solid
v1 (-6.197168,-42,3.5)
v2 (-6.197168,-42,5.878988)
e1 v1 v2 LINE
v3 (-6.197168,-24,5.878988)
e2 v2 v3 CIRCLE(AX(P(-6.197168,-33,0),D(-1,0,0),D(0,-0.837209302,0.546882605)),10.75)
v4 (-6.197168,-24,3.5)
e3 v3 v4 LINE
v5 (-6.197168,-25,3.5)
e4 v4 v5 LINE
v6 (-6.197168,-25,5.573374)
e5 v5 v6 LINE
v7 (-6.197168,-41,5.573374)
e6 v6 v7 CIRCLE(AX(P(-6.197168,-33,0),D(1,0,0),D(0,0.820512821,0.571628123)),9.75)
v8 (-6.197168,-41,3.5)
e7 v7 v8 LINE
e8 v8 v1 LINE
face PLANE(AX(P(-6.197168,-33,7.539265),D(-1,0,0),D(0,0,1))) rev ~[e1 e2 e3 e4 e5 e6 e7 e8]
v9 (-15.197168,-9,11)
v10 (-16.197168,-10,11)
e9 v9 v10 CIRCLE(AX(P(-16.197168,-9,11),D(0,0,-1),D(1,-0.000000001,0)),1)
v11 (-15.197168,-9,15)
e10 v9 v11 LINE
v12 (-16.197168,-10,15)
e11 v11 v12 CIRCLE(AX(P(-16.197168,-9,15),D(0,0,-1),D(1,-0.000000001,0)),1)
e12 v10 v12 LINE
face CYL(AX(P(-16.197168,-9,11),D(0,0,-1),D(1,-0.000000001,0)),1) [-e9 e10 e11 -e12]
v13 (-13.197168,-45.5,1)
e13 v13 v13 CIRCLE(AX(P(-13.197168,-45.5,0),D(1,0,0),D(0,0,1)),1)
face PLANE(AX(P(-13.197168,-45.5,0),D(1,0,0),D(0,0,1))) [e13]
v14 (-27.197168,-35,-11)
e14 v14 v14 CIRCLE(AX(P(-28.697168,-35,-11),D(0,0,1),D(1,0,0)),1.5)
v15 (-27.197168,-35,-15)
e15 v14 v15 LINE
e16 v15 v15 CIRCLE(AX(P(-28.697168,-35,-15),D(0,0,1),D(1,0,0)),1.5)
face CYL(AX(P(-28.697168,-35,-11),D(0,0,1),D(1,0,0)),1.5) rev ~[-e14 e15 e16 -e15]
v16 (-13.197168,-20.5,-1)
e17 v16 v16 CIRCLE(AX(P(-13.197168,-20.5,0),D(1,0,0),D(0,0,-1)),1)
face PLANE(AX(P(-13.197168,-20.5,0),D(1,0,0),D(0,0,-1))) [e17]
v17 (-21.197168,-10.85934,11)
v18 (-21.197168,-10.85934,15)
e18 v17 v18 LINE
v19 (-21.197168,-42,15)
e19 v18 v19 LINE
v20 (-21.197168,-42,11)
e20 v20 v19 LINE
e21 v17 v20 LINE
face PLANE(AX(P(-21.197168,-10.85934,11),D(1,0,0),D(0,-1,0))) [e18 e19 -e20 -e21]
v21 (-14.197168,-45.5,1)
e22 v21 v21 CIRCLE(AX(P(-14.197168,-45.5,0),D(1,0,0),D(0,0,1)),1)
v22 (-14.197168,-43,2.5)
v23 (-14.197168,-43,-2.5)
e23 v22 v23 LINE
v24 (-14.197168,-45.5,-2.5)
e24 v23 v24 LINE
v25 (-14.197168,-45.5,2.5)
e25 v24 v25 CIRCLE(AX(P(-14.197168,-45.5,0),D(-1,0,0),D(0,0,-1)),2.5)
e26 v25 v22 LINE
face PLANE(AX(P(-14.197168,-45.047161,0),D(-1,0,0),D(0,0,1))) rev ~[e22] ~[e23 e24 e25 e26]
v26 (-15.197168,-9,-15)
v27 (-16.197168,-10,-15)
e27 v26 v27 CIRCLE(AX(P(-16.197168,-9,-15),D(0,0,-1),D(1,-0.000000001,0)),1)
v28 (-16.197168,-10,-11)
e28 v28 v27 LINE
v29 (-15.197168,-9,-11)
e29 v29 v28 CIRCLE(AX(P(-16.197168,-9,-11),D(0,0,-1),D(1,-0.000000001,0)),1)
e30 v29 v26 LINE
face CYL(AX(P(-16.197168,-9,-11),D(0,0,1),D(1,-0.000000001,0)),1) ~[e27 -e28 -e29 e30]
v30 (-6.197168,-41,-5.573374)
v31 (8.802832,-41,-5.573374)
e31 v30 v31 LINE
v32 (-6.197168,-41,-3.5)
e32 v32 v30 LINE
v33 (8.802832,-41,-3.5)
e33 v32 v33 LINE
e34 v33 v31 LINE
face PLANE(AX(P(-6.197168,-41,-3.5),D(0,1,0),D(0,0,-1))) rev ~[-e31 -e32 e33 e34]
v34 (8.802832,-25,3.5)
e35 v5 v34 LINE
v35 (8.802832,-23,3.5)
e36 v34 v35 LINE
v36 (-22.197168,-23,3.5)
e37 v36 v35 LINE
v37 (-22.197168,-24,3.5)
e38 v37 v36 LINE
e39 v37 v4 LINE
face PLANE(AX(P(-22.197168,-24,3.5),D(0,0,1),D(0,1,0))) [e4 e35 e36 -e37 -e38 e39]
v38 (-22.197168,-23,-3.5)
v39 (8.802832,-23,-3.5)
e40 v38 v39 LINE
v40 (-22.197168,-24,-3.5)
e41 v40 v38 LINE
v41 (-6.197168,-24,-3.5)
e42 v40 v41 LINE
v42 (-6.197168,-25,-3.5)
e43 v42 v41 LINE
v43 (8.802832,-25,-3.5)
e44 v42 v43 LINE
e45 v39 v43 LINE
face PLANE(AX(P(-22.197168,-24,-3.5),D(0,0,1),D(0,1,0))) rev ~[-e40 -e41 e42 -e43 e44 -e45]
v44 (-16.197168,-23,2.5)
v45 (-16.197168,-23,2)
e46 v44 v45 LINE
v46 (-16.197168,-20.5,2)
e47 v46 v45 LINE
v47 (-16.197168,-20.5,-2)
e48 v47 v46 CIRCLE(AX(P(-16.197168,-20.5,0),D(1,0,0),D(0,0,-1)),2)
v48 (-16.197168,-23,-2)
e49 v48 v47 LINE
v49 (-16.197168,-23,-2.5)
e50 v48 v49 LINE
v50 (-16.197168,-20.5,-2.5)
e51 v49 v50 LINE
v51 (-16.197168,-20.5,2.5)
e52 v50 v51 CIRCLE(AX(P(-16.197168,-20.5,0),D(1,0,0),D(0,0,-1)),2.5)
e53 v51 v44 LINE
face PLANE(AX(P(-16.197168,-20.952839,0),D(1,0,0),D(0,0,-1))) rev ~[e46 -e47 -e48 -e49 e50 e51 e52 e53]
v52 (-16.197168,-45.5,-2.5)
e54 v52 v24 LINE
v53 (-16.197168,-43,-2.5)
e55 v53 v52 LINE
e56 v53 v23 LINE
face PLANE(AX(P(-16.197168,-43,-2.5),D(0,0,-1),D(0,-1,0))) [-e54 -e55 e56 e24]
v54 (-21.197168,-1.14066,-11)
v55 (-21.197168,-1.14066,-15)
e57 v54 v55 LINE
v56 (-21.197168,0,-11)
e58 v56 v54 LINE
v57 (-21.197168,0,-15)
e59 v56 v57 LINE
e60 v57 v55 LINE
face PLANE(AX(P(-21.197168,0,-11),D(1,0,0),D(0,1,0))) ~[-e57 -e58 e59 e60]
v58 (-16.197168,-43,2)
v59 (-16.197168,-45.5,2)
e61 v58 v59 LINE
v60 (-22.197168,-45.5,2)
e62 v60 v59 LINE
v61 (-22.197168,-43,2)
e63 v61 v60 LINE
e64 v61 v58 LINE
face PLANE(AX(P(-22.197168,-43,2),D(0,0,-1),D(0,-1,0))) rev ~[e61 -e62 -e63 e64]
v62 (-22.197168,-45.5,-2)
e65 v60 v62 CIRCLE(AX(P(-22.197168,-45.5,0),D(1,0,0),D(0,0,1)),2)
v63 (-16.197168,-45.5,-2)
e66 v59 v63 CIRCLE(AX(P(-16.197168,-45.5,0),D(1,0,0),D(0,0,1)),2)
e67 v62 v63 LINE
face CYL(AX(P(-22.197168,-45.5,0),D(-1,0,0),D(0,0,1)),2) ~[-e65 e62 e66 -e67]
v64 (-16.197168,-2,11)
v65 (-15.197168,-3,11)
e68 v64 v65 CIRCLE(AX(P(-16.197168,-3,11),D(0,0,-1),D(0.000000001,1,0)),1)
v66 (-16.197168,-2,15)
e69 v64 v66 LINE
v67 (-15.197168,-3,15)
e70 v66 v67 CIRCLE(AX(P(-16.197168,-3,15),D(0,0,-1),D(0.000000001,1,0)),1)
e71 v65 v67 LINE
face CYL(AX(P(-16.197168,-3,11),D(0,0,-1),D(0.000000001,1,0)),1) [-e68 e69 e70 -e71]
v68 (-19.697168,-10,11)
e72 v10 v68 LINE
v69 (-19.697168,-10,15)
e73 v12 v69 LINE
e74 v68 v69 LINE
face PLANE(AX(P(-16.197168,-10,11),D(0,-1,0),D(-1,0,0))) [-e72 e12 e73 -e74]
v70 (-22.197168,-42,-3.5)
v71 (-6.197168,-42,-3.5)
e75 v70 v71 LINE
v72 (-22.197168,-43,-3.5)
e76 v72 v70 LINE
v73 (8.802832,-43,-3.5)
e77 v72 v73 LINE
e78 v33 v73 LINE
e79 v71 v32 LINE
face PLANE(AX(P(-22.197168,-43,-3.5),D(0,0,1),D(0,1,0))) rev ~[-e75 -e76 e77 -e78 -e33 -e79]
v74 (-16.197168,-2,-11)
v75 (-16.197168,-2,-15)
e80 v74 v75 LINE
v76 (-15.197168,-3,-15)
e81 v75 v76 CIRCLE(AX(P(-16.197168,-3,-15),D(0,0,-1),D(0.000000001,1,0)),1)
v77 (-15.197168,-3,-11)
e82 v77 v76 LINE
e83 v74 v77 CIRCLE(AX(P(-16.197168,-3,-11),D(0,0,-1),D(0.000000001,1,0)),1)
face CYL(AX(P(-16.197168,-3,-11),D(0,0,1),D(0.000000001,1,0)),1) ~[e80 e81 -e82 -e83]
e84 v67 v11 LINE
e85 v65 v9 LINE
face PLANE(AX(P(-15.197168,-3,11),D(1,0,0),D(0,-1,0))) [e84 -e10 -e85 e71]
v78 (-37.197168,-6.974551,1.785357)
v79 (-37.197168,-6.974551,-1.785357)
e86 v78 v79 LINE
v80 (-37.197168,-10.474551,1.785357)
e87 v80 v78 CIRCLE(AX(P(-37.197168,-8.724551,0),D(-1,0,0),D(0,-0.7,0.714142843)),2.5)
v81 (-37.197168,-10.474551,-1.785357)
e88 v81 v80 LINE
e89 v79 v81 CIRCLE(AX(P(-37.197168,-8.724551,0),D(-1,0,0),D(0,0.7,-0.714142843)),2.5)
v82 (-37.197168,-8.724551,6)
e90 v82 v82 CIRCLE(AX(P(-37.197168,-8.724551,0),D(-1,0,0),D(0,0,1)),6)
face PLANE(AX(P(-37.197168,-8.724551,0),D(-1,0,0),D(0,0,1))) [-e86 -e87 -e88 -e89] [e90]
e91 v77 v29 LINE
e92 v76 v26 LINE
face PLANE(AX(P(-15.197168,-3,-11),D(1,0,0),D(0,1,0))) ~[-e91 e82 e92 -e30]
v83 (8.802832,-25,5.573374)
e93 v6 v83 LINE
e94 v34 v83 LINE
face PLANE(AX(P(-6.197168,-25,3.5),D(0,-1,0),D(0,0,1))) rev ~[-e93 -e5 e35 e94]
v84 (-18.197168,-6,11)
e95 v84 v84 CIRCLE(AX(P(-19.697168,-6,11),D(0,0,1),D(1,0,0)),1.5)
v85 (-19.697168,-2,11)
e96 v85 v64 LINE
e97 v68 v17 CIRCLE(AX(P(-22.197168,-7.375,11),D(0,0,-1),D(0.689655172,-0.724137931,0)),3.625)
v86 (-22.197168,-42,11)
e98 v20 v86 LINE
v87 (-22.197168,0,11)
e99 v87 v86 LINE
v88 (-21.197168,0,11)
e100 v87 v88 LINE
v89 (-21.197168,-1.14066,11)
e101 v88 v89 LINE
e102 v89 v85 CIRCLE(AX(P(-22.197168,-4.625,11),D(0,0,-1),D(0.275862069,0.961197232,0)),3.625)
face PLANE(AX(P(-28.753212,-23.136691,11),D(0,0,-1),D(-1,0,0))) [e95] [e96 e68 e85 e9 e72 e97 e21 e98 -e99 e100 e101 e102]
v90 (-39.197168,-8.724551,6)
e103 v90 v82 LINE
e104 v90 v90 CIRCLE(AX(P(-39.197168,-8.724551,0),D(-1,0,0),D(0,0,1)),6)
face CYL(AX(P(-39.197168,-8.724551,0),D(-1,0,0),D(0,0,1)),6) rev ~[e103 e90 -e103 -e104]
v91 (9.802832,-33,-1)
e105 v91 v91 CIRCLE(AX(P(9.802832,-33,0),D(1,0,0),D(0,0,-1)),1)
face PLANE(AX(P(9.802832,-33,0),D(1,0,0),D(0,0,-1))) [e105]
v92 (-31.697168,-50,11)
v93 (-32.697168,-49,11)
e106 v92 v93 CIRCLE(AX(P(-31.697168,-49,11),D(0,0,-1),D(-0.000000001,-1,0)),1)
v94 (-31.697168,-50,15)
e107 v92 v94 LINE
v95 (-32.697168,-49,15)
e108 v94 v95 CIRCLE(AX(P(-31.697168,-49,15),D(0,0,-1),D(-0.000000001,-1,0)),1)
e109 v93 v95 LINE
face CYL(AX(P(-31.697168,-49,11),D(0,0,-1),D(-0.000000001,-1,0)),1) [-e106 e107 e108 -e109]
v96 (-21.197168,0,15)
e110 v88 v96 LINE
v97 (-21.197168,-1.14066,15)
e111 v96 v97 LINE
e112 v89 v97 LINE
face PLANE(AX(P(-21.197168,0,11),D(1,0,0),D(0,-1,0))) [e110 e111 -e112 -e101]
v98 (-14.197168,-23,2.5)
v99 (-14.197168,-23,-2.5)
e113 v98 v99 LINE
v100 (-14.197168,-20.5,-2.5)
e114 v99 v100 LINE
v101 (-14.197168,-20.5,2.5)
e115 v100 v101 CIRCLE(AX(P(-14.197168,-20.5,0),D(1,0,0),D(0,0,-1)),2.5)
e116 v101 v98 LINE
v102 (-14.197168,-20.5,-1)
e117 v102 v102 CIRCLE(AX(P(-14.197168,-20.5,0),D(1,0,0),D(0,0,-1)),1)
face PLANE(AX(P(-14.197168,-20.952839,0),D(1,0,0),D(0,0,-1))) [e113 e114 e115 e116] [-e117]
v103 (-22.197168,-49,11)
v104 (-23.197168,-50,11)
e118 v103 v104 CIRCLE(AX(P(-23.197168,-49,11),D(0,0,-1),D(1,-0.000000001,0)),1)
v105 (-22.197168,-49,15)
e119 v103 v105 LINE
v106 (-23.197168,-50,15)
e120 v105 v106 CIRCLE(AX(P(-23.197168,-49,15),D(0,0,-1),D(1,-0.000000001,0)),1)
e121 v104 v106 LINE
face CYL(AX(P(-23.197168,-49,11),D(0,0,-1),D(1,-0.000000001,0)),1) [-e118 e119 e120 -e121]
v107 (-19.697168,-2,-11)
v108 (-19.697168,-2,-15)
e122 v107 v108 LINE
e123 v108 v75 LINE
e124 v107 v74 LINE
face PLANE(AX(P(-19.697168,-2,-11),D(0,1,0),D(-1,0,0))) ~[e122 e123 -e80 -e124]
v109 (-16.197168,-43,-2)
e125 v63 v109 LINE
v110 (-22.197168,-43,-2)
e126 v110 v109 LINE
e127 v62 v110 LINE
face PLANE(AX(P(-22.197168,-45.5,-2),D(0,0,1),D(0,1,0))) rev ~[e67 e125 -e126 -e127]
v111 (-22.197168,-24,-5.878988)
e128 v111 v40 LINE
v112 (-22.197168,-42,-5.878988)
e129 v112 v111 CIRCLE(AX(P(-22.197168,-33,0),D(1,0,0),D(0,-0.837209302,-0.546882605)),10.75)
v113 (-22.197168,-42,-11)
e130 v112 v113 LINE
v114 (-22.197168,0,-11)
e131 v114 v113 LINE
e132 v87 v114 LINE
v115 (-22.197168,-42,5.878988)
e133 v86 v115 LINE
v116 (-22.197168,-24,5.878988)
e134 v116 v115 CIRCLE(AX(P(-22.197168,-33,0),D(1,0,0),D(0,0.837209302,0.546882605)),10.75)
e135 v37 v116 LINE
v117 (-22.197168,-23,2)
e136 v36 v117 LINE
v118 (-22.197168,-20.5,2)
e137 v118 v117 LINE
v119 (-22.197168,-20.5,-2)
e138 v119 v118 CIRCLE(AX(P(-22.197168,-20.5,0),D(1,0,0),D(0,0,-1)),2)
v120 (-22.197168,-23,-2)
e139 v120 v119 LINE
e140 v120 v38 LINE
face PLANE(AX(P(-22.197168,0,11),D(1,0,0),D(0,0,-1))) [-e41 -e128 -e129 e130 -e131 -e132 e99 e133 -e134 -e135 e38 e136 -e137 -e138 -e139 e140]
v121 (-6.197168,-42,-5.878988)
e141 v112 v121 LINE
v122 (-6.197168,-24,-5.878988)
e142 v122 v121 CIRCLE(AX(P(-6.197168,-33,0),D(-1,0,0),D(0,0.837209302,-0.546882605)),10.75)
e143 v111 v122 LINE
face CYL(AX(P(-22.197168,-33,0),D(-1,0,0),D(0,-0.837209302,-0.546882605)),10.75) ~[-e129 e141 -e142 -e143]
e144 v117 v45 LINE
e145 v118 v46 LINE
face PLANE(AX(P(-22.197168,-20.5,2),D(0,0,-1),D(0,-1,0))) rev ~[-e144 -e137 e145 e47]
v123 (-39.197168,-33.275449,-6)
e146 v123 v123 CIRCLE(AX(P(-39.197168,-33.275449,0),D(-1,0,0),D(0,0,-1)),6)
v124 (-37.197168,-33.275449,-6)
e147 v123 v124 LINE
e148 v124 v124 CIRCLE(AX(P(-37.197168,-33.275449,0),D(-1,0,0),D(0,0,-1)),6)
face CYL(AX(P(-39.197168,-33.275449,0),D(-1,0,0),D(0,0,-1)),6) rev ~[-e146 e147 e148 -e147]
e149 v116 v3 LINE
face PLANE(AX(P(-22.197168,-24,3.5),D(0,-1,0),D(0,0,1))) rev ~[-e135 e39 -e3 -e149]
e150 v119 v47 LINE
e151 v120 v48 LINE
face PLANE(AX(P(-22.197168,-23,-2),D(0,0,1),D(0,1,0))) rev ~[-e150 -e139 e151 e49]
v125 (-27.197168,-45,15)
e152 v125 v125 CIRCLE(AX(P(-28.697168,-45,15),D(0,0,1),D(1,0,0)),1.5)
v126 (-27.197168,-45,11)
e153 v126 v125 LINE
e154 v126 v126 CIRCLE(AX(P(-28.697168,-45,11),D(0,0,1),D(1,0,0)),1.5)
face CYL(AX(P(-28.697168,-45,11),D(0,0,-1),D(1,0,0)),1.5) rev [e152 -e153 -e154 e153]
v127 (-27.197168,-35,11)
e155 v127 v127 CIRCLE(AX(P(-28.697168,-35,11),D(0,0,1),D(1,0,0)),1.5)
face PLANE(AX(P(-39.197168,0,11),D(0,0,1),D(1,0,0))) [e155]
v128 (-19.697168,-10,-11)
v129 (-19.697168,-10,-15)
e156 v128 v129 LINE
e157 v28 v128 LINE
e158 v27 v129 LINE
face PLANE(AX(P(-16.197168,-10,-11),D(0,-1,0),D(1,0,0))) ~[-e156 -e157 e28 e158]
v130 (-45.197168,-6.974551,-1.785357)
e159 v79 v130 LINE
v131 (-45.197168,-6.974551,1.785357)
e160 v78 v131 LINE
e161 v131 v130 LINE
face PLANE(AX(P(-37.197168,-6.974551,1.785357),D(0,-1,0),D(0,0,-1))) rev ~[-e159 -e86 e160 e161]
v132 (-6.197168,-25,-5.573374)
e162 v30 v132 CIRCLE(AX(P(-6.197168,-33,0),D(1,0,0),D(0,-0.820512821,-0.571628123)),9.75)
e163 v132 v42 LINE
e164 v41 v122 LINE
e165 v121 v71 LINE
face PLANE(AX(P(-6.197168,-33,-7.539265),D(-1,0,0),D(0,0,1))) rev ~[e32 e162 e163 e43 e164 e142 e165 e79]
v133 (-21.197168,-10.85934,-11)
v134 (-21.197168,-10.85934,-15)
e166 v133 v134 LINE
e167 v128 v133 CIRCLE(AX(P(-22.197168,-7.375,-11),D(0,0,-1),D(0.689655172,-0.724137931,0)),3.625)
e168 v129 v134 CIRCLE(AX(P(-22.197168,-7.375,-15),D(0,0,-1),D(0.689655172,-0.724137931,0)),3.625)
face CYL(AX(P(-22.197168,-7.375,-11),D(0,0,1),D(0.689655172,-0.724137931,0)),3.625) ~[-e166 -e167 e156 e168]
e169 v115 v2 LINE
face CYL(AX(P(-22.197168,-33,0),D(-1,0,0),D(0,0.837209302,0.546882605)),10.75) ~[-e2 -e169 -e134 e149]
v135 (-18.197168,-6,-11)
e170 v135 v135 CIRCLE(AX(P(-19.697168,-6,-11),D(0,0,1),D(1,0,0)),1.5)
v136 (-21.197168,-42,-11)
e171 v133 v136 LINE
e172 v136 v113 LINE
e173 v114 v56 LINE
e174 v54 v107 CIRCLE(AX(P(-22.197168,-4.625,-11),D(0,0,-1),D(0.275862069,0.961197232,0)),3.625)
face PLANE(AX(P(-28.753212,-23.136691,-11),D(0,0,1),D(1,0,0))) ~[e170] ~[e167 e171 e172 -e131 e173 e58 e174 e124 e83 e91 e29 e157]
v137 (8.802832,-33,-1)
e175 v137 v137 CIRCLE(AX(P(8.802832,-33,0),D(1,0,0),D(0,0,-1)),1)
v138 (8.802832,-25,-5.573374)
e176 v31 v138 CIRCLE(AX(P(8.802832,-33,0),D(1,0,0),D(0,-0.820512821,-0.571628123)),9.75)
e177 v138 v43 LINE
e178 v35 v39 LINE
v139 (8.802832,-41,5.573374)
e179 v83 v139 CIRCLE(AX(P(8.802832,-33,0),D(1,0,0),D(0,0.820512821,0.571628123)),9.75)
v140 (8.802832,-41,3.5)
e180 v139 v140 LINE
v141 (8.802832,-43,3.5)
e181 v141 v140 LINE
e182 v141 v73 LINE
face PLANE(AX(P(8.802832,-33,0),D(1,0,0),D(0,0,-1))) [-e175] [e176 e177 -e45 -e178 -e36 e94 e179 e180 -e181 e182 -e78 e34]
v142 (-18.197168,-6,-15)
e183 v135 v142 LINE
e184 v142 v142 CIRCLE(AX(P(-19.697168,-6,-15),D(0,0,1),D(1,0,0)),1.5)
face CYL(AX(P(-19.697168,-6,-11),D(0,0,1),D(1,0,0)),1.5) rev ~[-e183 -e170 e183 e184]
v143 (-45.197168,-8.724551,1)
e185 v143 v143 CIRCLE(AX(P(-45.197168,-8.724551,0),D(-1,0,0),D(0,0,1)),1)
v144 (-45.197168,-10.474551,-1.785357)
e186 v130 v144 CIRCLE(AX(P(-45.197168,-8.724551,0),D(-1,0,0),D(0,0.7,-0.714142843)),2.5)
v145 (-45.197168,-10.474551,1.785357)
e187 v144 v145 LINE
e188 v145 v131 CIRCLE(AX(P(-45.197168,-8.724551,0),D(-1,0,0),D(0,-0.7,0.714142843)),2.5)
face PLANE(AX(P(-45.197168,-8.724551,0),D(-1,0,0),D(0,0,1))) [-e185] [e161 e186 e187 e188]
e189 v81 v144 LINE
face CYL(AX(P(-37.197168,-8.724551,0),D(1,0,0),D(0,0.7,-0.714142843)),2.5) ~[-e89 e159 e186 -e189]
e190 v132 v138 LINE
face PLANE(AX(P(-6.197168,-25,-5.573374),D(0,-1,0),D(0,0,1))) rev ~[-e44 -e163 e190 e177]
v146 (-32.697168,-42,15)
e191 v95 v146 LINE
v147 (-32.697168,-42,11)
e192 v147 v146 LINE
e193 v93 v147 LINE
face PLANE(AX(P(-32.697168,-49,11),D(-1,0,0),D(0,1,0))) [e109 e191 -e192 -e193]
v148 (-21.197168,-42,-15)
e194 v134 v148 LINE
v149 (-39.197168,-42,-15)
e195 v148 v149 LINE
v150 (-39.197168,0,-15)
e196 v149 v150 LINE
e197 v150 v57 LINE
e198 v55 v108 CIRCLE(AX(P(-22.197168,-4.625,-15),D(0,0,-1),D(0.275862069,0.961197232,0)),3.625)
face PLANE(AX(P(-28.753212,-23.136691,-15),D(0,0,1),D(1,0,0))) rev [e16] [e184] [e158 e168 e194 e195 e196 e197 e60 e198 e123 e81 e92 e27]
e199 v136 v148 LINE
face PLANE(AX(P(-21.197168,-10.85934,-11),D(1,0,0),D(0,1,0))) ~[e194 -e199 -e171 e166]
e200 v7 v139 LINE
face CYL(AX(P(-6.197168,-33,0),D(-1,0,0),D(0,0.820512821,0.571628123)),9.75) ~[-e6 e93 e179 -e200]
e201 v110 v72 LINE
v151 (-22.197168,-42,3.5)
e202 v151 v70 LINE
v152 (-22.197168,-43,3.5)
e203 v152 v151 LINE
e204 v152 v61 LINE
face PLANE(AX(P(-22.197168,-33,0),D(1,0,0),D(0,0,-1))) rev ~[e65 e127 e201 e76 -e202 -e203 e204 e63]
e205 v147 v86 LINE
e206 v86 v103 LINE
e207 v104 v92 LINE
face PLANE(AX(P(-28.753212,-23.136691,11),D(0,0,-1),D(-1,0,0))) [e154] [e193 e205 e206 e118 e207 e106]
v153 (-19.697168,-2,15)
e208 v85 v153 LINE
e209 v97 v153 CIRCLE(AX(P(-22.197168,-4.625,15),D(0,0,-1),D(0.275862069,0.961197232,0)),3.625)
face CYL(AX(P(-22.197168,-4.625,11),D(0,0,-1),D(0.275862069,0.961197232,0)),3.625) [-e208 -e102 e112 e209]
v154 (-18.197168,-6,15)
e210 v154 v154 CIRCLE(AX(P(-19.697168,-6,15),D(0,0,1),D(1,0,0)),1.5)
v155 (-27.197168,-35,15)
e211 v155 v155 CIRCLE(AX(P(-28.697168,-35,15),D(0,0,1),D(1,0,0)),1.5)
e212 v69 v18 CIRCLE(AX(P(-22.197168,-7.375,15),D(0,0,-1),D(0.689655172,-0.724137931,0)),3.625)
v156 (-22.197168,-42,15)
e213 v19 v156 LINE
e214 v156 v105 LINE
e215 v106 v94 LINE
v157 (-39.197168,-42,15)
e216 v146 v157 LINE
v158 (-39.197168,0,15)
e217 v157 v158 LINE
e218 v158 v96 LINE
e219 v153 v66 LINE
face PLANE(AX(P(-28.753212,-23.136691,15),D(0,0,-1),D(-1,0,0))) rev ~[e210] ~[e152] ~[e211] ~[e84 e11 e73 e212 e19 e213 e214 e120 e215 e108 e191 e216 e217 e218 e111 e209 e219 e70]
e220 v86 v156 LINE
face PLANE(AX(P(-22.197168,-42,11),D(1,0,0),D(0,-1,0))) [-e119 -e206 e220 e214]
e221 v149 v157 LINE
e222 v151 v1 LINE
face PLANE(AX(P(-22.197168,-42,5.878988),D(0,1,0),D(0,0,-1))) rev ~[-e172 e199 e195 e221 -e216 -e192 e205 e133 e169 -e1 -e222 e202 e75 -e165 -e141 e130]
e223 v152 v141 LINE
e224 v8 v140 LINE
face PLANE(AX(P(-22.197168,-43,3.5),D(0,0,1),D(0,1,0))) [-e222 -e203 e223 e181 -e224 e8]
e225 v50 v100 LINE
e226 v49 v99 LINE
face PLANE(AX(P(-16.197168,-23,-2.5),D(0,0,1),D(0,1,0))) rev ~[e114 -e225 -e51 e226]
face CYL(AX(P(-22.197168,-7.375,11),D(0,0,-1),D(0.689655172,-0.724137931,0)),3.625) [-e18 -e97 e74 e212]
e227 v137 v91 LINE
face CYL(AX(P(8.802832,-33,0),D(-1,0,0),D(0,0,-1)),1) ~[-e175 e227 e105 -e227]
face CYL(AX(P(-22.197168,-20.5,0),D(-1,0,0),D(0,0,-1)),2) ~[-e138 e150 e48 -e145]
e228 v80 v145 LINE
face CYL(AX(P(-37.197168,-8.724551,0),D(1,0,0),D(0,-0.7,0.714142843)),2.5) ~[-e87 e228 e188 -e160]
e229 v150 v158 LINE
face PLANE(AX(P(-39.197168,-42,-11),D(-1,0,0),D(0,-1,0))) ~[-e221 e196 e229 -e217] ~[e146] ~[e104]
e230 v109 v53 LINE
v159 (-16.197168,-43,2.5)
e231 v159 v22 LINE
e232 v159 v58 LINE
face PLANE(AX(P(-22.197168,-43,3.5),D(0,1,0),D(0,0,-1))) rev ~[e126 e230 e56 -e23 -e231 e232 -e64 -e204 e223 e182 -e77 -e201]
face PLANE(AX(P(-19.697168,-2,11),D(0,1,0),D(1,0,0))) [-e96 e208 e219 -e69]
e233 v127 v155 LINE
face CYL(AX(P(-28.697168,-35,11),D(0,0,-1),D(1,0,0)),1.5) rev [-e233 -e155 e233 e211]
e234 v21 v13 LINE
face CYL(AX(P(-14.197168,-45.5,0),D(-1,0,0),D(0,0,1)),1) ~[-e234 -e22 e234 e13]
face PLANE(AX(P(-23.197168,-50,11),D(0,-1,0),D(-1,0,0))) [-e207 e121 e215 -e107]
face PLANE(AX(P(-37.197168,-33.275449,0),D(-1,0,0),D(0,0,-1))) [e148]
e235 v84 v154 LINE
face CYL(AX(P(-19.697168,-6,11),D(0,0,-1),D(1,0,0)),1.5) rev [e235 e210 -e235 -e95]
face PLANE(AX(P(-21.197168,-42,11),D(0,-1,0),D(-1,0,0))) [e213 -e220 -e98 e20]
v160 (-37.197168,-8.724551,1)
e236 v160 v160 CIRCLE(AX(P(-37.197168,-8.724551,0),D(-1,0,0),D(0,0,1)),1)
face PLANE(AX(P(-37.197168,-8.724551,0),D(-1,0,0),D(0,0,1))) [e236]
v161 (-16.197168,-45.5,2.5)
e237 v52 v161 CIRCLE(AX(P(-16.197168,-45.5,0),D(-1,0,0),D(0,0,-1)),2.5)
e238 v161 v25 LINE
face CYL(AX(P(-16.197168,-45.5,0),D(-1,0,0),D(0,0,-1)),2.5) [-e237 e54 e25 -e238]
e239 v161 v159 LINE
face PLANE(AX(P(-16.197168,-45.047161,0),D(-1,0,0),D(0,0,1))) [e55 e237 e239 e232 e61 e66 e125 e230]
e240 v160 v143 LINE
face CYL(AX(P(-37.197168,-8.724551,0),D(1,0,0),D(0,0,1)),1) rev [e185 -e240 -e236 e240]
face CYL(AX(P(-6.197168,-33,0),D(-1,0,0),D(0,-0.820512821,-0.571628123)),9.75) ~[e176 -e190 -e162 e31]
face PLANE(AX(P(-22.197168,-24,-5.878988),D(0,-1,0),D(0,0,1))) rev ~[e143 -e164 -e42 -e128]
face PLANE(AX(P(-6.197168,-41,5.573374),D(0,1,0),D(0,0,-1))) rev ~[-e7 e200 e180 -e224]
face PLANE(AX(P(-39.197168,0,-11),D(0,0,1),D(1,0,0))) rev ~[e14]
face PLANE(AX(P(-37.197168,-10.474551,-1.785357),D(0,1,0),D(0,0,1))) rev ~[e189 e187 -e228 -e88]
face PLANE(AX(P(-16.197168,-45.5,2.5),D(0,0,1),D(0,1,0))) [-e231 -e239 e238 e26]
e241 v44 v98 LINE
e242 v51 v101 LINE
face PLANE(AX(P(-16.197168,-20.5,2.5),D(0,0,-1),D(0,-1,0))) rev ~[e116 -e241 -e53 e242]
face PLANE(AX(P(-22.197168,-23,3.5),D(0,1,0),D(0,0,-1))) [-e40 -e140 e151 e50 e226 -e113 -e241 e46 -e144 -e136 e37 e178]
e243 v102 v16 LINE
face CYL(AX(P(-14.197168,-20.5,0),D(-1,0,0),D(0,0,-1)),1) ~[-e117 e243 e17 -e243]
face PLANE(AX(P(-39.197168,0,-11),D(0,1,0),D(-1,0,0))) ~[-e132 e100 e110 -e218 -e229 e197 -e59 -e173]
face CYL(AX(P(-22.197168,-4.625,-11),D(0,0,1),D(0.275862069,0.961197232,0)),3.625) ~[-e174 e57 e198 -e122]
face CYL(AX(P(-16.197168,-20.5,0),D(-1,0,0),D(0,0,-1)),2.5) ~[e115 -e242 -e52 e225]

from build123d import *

# Parameters (mm, degrees)
ESQUISSE2_W             = 17
ESQUISSE2_H             = 22
BASE_DEPTH              = 42
ESQUISSE3_R             = 6
VIDE_CERCLE_DEPTH       = 2
ESQUISSE4_R             = 1
AXE_ROUE_DEPTH          = 8
ESQUISSE6_R             = 1.5
COTE_DEPTH              = 4
ESQUISSE7_W             = 10.5
ESQUISSE7_H             = 8
AJUSTE_COTE_DEPTH       = 4
ESQUISSE8_W             = 7
ESQUISSE8_H             = 1
BLOC_MOTEUR_DEPTH       = 31
VODE_START              = -15
VODE_MOTEUR_DEPTH       = 15
ESQUISSE11_R            = 1
SORTIE_AXE_MOTEUR_DEPTH = 1
VIS_MOTEUR_1_DEPTH      = 6
VIS_MOTEUR_2_DEPTH      = 2
ESQUISSE15_R            = 1
VIS_MOTEUR_3_DEPTH      = 1


with BuildPart() as part:
    # Esquisse2 → Base (new body)
    with BuildSketch(Plane(origin=(0, 0, 0), x_dir=(1, 0, 0), z_dir=(0, 1, 0))):
        with Locations((-30.697167752, 0)):
            Rectangle(ESQUISSE2_W, ESQUISSE2_H)
    extrude(amount=-BASE_DEPTH)

    # Esquisse3 → VIDE CERCLE (cut)
    with BuildSketch(Plane.ZY.offset(39.197167752)):
        with Locations((0, -8.724551396)):
            Circle(ESQUISSE3_R)
        with Locations(Location((0, -33.275448604, 0), (0, 0, 180))):
            Circle(ESQUISSE3_R)
    extrude(amount=-VIDE_CERCLE_DEPTH, mode=Mode.SUBTRACT)

    # Esquisse4 → AXE ROUE (add)
    with BuildSketch(Plane.ZY.offset(37.197167752)):
        with BuildLine():
            Line((1.785357107, -6.974551396), (-1.785357107, -6.974551396))
            ThreePointArc((-1.785357107, -6.974551396), (-2.5, -8.724551396), (-1.785357107, -10.474551396))
            Line((-1.785357107, -10.474551396), (1.785357107, -10.474551396))
            ThreePointArc((1.785357107, -10.474551396), (2.5, -8.724551396), (1.785357107, -6.974551396))
        make_face()
        with Locations((0, -8.724551396)):
            Circle(ESQUISSE4_R, mode=Mode.SUBTRACT)
    extrude(amount=AXE_ROUE_DEPTH)

    # Esquisse6 → COTE (add)
    with BuildSketch(Plane.XY.offset(11)):
        with BuildLine():
            Line((-19.697167752, -2), (-16.197167752, -2))
            ThreePointArc((-16.197167752, -2), (-15.490060971, -2.292893219), (-15.197167752, -3))
            Line((-15.197167752, -3), (-15.197167752, -9))
            ThreePointArc((-15.197167752, -9), (-15.490060971, -9.707106781), (-16.197167752, -10))
            Line((-16.197167752, -10), (-19.697167752, -10))
            ThreePointArc((-19.697167752, -10), (-20.395192088, -10.520394841), (-21.197167752, -10.859339966))
            Line((-21.197167752, -10.859339966), (-21.197167752, -42))
            Line((-21.197167752, -42), (-22.197167752, -42))
            Line((-22.197167752, -42), (-22.197167752, -49))
            ThreePointArc((-22.197167752, -49), (-22.490060971, -49.707106781), (-23.197167752, -50))
            Line((-23.197167752, -50), (-31.697167752, -50))
            ThreePointArc((-31.697167752, -50), (-32.404274533, -49.707106781), (-32.697167752, -49))
            Line((-32.697167752, -49), (-32.697167752, -42))
            Line((-32.697167752, -42), (-39.197167752, -42))
            Line((-39.197167752, -42), (-39.197167752, 0))
            Line((-39.197167752, 0), (-22.197167752, 0))
            Line((-22.197167752, 0), (-21.197167752, 0))
            Line((-21.197167752, 0), (-21.197167752, -1.140660034))
            ThreePointArc((-21.197167752, -1.140660034), (-20.395192088, -1.479605159), (-19.697167752, -2))
        make_face()
        with Locations((-19.697167752, -6)):
            Circle(ESQUISSE6_R, mode=Mode.SUBTRACT)
        with Locations((-28.697167752, -35)):
            Circle(ESQUISSE6_R, mode=Mode.SUBTRACT)
        with Locations((-28.697167752, -45)):
            Circle(ESQUISSE6_R, mode=Mode.SUBTRACT)
    cote = extrude(amount=COTE_DEPTH)

    # SYM COTE: COTE across plane
    add(cote.mirror(Plane.XY))

    # Esquisse7 → AJUSTE COTE (cut)
    with BuildSketch(Plane.XY.offset(-11)):
        with Locations((-27.447167752, -46)):
            Rectangle(ESQUISSE7_W, ESQUISSE7_H)
    extrude(amount=-AJUSTE_COTE_DEPTH, mode=Mode.SUBTRACT)

    # Esquisse8 → BLOC MOTEUR (add)
    with BuildSketch(Plane(origin=(-22.197167752, 0, 0), x_dir=(0, 0, -1), z_dir=(1, 0, 0))):
        with BuildLine():
            ThreePointArc((-5.878988008, -24), (-10.75, -33), (-5.878988008, -42))
            Line((-5.878988008, -42), (-3.5, -42))
            Line((-3.5, -42), (3.5, -42))
            Line((3.5, -42), (5.878988008, -42))
            ThreePointArc((5.878988008, -42), (10.75, -33), (5.878988008, -24))
            Line((5.878988008, -24), (3.5, -24))
            Line((3.5, -24), (-3.5, -24))
            Line((-3.5, -24), (-5.878988008, -24))
        make_face()
        with Locations((0, -42.5)):
            Rectangle(ESQUISSE8_W, ESQUISSE8_H)
        with Locations((0, -23.5)):
            Rectangle(ESQUISSE8_W, ESQUISSE8_H)
    extrude(amount=BLOC_MOTEUR_DEPTH)

    # Esquisse10 → VODE MOTEUR (cut)
    with BuildSketch(Plane(origin=(8.802832248, 0, 0), x_dir=(0, 0, -1), z_dir=(1, 0, 0)).offset(VODE_START)):
        with BuildLine():
            Line((-5.878988008, -24), (-3.5, -24))
            Line((-3.5, -24), (-3.5, -25))
            Line((-3.5, -25), (-5.573374202, -25))
            ThreePointArc((-5.573374202, -25), (-9.75, -33), (-5.573374202, -41))
            Line((-5.573374202, -41), (-3.5, -41))
            Line((-3.5, -41), (-3.5, -42))
            Line((-3.5, -42), (-5.878988008, -42))
            ThreePointArc((-5.878988008, -42), (-10.75, -33), (-5.878988008, -24))
        make_face()
        with BuildLine():
            Line((3.5, -24), (5.878988008, -24))
            ThreePointArc((5.878988008, -24), (10.75, -33), (5.878988008, -42))
            Line((5.878988008, -42), (3.5, -42))
            Line((3.5, -42), (3.5, -41))
            Line((3.5, -41), (5.573374202, -41))
            ThreePointArc((5.573374202, -41), (9.75, -33), (5.573374202, -25))
            Line((5.573374202, -25), (3.5, -25))
            Line((3.5, -25), (3.5, -24))
        make_face()
    extrude(amount=VODE_MOTEUR_DEPTH, mode=Mode.SUBTRACT)

    # Esquisse11 → SORTIE AXE MOTEUR (add)
    with BuildSketch(Plane(origin=(8.802832248, 0, 0), x_dir=(0, 0, -1), z_dir=(1, 0, 0))):
        with Locations((0, -33)):
            Circle(ESQUISSE11_R)
    extrude(amount=SORTIE_AXE_MOTEUR_DEPTH)

    # Esquisse12 → VIS MOTEUR 1 (add)
    with BuildSketch(Plane(origin=(-22.197167752, 0, 0), x_dir=(0, 0, -1), z_dir=(1, 0, 0))):
        with BuildLine():
            Line((-2, -20.5), (-2, -23))
            Line((-2, -23), (2, -23))
            Line((2, -23), (2, -20.5))
            ThreePointArc((2, -20.5), (0, -18.5), (-2, -20.5))
        make_face()
        with BuildLine():
            Line((2, -45.5), (2, -43))
            Line((2, -43), (-2, -43))
            Line((-2, -43), (-2, -45.5))
            ThreePointArc((-2, -45.5), (0, -47.5), (2, -45.5))
        make_face()
    extrude(amount=VIS_MOTEUR_1_DEPTH)

    # Esquisse14 → VIS MOTEUR 2 (add)
    with BuildSketch(Plane(origin=(-16.197167752, 0, 0), x_dir=(0, 0, -1), z_dir=(1, 0, 0))):
        with BuildLine():
            Line((-2.5, -20.5), (-2.5, -23))
            Line((-2.5, -23), (2.5, -23))
            Line((2.5, -23), (2.5, -20.5))
            ThreePointArc((2.5, -20.5), (0, -18), (-2.5, -20.5))
        make_face()
        with BuildLine():
            Line((-2.5, -43), (2.5, -43))
            Line((2.5, -43), (2.5, -45.5))
            ThreePointArc((2.5, -45.5), (0, -48), (-2.5, -45.5))
            Line((-2.5, -45.5), (-2.5, -43))
        make_face()
    extrude(amount=VIS_MOTEUR_2_DEPTH)

    # Esquisse15 → VIS MOTEUR 3 (add)
    with BuildSketch(Plane(origin=(-14.197167752, 0, 0), x_dir=(0, 0, -1), z_dir=(1, 0, 0))):
        with Locations((0, -20.5)):
            Circle(ESQUISSE15_R)
        with Locations(Location((0, -45.5, 0), (0, 0, 180))):
            Circle(ESQUISSE15_R)
    extrude(amount=VIS_MOTEUR_3_DEPTH)


solid = part.part
